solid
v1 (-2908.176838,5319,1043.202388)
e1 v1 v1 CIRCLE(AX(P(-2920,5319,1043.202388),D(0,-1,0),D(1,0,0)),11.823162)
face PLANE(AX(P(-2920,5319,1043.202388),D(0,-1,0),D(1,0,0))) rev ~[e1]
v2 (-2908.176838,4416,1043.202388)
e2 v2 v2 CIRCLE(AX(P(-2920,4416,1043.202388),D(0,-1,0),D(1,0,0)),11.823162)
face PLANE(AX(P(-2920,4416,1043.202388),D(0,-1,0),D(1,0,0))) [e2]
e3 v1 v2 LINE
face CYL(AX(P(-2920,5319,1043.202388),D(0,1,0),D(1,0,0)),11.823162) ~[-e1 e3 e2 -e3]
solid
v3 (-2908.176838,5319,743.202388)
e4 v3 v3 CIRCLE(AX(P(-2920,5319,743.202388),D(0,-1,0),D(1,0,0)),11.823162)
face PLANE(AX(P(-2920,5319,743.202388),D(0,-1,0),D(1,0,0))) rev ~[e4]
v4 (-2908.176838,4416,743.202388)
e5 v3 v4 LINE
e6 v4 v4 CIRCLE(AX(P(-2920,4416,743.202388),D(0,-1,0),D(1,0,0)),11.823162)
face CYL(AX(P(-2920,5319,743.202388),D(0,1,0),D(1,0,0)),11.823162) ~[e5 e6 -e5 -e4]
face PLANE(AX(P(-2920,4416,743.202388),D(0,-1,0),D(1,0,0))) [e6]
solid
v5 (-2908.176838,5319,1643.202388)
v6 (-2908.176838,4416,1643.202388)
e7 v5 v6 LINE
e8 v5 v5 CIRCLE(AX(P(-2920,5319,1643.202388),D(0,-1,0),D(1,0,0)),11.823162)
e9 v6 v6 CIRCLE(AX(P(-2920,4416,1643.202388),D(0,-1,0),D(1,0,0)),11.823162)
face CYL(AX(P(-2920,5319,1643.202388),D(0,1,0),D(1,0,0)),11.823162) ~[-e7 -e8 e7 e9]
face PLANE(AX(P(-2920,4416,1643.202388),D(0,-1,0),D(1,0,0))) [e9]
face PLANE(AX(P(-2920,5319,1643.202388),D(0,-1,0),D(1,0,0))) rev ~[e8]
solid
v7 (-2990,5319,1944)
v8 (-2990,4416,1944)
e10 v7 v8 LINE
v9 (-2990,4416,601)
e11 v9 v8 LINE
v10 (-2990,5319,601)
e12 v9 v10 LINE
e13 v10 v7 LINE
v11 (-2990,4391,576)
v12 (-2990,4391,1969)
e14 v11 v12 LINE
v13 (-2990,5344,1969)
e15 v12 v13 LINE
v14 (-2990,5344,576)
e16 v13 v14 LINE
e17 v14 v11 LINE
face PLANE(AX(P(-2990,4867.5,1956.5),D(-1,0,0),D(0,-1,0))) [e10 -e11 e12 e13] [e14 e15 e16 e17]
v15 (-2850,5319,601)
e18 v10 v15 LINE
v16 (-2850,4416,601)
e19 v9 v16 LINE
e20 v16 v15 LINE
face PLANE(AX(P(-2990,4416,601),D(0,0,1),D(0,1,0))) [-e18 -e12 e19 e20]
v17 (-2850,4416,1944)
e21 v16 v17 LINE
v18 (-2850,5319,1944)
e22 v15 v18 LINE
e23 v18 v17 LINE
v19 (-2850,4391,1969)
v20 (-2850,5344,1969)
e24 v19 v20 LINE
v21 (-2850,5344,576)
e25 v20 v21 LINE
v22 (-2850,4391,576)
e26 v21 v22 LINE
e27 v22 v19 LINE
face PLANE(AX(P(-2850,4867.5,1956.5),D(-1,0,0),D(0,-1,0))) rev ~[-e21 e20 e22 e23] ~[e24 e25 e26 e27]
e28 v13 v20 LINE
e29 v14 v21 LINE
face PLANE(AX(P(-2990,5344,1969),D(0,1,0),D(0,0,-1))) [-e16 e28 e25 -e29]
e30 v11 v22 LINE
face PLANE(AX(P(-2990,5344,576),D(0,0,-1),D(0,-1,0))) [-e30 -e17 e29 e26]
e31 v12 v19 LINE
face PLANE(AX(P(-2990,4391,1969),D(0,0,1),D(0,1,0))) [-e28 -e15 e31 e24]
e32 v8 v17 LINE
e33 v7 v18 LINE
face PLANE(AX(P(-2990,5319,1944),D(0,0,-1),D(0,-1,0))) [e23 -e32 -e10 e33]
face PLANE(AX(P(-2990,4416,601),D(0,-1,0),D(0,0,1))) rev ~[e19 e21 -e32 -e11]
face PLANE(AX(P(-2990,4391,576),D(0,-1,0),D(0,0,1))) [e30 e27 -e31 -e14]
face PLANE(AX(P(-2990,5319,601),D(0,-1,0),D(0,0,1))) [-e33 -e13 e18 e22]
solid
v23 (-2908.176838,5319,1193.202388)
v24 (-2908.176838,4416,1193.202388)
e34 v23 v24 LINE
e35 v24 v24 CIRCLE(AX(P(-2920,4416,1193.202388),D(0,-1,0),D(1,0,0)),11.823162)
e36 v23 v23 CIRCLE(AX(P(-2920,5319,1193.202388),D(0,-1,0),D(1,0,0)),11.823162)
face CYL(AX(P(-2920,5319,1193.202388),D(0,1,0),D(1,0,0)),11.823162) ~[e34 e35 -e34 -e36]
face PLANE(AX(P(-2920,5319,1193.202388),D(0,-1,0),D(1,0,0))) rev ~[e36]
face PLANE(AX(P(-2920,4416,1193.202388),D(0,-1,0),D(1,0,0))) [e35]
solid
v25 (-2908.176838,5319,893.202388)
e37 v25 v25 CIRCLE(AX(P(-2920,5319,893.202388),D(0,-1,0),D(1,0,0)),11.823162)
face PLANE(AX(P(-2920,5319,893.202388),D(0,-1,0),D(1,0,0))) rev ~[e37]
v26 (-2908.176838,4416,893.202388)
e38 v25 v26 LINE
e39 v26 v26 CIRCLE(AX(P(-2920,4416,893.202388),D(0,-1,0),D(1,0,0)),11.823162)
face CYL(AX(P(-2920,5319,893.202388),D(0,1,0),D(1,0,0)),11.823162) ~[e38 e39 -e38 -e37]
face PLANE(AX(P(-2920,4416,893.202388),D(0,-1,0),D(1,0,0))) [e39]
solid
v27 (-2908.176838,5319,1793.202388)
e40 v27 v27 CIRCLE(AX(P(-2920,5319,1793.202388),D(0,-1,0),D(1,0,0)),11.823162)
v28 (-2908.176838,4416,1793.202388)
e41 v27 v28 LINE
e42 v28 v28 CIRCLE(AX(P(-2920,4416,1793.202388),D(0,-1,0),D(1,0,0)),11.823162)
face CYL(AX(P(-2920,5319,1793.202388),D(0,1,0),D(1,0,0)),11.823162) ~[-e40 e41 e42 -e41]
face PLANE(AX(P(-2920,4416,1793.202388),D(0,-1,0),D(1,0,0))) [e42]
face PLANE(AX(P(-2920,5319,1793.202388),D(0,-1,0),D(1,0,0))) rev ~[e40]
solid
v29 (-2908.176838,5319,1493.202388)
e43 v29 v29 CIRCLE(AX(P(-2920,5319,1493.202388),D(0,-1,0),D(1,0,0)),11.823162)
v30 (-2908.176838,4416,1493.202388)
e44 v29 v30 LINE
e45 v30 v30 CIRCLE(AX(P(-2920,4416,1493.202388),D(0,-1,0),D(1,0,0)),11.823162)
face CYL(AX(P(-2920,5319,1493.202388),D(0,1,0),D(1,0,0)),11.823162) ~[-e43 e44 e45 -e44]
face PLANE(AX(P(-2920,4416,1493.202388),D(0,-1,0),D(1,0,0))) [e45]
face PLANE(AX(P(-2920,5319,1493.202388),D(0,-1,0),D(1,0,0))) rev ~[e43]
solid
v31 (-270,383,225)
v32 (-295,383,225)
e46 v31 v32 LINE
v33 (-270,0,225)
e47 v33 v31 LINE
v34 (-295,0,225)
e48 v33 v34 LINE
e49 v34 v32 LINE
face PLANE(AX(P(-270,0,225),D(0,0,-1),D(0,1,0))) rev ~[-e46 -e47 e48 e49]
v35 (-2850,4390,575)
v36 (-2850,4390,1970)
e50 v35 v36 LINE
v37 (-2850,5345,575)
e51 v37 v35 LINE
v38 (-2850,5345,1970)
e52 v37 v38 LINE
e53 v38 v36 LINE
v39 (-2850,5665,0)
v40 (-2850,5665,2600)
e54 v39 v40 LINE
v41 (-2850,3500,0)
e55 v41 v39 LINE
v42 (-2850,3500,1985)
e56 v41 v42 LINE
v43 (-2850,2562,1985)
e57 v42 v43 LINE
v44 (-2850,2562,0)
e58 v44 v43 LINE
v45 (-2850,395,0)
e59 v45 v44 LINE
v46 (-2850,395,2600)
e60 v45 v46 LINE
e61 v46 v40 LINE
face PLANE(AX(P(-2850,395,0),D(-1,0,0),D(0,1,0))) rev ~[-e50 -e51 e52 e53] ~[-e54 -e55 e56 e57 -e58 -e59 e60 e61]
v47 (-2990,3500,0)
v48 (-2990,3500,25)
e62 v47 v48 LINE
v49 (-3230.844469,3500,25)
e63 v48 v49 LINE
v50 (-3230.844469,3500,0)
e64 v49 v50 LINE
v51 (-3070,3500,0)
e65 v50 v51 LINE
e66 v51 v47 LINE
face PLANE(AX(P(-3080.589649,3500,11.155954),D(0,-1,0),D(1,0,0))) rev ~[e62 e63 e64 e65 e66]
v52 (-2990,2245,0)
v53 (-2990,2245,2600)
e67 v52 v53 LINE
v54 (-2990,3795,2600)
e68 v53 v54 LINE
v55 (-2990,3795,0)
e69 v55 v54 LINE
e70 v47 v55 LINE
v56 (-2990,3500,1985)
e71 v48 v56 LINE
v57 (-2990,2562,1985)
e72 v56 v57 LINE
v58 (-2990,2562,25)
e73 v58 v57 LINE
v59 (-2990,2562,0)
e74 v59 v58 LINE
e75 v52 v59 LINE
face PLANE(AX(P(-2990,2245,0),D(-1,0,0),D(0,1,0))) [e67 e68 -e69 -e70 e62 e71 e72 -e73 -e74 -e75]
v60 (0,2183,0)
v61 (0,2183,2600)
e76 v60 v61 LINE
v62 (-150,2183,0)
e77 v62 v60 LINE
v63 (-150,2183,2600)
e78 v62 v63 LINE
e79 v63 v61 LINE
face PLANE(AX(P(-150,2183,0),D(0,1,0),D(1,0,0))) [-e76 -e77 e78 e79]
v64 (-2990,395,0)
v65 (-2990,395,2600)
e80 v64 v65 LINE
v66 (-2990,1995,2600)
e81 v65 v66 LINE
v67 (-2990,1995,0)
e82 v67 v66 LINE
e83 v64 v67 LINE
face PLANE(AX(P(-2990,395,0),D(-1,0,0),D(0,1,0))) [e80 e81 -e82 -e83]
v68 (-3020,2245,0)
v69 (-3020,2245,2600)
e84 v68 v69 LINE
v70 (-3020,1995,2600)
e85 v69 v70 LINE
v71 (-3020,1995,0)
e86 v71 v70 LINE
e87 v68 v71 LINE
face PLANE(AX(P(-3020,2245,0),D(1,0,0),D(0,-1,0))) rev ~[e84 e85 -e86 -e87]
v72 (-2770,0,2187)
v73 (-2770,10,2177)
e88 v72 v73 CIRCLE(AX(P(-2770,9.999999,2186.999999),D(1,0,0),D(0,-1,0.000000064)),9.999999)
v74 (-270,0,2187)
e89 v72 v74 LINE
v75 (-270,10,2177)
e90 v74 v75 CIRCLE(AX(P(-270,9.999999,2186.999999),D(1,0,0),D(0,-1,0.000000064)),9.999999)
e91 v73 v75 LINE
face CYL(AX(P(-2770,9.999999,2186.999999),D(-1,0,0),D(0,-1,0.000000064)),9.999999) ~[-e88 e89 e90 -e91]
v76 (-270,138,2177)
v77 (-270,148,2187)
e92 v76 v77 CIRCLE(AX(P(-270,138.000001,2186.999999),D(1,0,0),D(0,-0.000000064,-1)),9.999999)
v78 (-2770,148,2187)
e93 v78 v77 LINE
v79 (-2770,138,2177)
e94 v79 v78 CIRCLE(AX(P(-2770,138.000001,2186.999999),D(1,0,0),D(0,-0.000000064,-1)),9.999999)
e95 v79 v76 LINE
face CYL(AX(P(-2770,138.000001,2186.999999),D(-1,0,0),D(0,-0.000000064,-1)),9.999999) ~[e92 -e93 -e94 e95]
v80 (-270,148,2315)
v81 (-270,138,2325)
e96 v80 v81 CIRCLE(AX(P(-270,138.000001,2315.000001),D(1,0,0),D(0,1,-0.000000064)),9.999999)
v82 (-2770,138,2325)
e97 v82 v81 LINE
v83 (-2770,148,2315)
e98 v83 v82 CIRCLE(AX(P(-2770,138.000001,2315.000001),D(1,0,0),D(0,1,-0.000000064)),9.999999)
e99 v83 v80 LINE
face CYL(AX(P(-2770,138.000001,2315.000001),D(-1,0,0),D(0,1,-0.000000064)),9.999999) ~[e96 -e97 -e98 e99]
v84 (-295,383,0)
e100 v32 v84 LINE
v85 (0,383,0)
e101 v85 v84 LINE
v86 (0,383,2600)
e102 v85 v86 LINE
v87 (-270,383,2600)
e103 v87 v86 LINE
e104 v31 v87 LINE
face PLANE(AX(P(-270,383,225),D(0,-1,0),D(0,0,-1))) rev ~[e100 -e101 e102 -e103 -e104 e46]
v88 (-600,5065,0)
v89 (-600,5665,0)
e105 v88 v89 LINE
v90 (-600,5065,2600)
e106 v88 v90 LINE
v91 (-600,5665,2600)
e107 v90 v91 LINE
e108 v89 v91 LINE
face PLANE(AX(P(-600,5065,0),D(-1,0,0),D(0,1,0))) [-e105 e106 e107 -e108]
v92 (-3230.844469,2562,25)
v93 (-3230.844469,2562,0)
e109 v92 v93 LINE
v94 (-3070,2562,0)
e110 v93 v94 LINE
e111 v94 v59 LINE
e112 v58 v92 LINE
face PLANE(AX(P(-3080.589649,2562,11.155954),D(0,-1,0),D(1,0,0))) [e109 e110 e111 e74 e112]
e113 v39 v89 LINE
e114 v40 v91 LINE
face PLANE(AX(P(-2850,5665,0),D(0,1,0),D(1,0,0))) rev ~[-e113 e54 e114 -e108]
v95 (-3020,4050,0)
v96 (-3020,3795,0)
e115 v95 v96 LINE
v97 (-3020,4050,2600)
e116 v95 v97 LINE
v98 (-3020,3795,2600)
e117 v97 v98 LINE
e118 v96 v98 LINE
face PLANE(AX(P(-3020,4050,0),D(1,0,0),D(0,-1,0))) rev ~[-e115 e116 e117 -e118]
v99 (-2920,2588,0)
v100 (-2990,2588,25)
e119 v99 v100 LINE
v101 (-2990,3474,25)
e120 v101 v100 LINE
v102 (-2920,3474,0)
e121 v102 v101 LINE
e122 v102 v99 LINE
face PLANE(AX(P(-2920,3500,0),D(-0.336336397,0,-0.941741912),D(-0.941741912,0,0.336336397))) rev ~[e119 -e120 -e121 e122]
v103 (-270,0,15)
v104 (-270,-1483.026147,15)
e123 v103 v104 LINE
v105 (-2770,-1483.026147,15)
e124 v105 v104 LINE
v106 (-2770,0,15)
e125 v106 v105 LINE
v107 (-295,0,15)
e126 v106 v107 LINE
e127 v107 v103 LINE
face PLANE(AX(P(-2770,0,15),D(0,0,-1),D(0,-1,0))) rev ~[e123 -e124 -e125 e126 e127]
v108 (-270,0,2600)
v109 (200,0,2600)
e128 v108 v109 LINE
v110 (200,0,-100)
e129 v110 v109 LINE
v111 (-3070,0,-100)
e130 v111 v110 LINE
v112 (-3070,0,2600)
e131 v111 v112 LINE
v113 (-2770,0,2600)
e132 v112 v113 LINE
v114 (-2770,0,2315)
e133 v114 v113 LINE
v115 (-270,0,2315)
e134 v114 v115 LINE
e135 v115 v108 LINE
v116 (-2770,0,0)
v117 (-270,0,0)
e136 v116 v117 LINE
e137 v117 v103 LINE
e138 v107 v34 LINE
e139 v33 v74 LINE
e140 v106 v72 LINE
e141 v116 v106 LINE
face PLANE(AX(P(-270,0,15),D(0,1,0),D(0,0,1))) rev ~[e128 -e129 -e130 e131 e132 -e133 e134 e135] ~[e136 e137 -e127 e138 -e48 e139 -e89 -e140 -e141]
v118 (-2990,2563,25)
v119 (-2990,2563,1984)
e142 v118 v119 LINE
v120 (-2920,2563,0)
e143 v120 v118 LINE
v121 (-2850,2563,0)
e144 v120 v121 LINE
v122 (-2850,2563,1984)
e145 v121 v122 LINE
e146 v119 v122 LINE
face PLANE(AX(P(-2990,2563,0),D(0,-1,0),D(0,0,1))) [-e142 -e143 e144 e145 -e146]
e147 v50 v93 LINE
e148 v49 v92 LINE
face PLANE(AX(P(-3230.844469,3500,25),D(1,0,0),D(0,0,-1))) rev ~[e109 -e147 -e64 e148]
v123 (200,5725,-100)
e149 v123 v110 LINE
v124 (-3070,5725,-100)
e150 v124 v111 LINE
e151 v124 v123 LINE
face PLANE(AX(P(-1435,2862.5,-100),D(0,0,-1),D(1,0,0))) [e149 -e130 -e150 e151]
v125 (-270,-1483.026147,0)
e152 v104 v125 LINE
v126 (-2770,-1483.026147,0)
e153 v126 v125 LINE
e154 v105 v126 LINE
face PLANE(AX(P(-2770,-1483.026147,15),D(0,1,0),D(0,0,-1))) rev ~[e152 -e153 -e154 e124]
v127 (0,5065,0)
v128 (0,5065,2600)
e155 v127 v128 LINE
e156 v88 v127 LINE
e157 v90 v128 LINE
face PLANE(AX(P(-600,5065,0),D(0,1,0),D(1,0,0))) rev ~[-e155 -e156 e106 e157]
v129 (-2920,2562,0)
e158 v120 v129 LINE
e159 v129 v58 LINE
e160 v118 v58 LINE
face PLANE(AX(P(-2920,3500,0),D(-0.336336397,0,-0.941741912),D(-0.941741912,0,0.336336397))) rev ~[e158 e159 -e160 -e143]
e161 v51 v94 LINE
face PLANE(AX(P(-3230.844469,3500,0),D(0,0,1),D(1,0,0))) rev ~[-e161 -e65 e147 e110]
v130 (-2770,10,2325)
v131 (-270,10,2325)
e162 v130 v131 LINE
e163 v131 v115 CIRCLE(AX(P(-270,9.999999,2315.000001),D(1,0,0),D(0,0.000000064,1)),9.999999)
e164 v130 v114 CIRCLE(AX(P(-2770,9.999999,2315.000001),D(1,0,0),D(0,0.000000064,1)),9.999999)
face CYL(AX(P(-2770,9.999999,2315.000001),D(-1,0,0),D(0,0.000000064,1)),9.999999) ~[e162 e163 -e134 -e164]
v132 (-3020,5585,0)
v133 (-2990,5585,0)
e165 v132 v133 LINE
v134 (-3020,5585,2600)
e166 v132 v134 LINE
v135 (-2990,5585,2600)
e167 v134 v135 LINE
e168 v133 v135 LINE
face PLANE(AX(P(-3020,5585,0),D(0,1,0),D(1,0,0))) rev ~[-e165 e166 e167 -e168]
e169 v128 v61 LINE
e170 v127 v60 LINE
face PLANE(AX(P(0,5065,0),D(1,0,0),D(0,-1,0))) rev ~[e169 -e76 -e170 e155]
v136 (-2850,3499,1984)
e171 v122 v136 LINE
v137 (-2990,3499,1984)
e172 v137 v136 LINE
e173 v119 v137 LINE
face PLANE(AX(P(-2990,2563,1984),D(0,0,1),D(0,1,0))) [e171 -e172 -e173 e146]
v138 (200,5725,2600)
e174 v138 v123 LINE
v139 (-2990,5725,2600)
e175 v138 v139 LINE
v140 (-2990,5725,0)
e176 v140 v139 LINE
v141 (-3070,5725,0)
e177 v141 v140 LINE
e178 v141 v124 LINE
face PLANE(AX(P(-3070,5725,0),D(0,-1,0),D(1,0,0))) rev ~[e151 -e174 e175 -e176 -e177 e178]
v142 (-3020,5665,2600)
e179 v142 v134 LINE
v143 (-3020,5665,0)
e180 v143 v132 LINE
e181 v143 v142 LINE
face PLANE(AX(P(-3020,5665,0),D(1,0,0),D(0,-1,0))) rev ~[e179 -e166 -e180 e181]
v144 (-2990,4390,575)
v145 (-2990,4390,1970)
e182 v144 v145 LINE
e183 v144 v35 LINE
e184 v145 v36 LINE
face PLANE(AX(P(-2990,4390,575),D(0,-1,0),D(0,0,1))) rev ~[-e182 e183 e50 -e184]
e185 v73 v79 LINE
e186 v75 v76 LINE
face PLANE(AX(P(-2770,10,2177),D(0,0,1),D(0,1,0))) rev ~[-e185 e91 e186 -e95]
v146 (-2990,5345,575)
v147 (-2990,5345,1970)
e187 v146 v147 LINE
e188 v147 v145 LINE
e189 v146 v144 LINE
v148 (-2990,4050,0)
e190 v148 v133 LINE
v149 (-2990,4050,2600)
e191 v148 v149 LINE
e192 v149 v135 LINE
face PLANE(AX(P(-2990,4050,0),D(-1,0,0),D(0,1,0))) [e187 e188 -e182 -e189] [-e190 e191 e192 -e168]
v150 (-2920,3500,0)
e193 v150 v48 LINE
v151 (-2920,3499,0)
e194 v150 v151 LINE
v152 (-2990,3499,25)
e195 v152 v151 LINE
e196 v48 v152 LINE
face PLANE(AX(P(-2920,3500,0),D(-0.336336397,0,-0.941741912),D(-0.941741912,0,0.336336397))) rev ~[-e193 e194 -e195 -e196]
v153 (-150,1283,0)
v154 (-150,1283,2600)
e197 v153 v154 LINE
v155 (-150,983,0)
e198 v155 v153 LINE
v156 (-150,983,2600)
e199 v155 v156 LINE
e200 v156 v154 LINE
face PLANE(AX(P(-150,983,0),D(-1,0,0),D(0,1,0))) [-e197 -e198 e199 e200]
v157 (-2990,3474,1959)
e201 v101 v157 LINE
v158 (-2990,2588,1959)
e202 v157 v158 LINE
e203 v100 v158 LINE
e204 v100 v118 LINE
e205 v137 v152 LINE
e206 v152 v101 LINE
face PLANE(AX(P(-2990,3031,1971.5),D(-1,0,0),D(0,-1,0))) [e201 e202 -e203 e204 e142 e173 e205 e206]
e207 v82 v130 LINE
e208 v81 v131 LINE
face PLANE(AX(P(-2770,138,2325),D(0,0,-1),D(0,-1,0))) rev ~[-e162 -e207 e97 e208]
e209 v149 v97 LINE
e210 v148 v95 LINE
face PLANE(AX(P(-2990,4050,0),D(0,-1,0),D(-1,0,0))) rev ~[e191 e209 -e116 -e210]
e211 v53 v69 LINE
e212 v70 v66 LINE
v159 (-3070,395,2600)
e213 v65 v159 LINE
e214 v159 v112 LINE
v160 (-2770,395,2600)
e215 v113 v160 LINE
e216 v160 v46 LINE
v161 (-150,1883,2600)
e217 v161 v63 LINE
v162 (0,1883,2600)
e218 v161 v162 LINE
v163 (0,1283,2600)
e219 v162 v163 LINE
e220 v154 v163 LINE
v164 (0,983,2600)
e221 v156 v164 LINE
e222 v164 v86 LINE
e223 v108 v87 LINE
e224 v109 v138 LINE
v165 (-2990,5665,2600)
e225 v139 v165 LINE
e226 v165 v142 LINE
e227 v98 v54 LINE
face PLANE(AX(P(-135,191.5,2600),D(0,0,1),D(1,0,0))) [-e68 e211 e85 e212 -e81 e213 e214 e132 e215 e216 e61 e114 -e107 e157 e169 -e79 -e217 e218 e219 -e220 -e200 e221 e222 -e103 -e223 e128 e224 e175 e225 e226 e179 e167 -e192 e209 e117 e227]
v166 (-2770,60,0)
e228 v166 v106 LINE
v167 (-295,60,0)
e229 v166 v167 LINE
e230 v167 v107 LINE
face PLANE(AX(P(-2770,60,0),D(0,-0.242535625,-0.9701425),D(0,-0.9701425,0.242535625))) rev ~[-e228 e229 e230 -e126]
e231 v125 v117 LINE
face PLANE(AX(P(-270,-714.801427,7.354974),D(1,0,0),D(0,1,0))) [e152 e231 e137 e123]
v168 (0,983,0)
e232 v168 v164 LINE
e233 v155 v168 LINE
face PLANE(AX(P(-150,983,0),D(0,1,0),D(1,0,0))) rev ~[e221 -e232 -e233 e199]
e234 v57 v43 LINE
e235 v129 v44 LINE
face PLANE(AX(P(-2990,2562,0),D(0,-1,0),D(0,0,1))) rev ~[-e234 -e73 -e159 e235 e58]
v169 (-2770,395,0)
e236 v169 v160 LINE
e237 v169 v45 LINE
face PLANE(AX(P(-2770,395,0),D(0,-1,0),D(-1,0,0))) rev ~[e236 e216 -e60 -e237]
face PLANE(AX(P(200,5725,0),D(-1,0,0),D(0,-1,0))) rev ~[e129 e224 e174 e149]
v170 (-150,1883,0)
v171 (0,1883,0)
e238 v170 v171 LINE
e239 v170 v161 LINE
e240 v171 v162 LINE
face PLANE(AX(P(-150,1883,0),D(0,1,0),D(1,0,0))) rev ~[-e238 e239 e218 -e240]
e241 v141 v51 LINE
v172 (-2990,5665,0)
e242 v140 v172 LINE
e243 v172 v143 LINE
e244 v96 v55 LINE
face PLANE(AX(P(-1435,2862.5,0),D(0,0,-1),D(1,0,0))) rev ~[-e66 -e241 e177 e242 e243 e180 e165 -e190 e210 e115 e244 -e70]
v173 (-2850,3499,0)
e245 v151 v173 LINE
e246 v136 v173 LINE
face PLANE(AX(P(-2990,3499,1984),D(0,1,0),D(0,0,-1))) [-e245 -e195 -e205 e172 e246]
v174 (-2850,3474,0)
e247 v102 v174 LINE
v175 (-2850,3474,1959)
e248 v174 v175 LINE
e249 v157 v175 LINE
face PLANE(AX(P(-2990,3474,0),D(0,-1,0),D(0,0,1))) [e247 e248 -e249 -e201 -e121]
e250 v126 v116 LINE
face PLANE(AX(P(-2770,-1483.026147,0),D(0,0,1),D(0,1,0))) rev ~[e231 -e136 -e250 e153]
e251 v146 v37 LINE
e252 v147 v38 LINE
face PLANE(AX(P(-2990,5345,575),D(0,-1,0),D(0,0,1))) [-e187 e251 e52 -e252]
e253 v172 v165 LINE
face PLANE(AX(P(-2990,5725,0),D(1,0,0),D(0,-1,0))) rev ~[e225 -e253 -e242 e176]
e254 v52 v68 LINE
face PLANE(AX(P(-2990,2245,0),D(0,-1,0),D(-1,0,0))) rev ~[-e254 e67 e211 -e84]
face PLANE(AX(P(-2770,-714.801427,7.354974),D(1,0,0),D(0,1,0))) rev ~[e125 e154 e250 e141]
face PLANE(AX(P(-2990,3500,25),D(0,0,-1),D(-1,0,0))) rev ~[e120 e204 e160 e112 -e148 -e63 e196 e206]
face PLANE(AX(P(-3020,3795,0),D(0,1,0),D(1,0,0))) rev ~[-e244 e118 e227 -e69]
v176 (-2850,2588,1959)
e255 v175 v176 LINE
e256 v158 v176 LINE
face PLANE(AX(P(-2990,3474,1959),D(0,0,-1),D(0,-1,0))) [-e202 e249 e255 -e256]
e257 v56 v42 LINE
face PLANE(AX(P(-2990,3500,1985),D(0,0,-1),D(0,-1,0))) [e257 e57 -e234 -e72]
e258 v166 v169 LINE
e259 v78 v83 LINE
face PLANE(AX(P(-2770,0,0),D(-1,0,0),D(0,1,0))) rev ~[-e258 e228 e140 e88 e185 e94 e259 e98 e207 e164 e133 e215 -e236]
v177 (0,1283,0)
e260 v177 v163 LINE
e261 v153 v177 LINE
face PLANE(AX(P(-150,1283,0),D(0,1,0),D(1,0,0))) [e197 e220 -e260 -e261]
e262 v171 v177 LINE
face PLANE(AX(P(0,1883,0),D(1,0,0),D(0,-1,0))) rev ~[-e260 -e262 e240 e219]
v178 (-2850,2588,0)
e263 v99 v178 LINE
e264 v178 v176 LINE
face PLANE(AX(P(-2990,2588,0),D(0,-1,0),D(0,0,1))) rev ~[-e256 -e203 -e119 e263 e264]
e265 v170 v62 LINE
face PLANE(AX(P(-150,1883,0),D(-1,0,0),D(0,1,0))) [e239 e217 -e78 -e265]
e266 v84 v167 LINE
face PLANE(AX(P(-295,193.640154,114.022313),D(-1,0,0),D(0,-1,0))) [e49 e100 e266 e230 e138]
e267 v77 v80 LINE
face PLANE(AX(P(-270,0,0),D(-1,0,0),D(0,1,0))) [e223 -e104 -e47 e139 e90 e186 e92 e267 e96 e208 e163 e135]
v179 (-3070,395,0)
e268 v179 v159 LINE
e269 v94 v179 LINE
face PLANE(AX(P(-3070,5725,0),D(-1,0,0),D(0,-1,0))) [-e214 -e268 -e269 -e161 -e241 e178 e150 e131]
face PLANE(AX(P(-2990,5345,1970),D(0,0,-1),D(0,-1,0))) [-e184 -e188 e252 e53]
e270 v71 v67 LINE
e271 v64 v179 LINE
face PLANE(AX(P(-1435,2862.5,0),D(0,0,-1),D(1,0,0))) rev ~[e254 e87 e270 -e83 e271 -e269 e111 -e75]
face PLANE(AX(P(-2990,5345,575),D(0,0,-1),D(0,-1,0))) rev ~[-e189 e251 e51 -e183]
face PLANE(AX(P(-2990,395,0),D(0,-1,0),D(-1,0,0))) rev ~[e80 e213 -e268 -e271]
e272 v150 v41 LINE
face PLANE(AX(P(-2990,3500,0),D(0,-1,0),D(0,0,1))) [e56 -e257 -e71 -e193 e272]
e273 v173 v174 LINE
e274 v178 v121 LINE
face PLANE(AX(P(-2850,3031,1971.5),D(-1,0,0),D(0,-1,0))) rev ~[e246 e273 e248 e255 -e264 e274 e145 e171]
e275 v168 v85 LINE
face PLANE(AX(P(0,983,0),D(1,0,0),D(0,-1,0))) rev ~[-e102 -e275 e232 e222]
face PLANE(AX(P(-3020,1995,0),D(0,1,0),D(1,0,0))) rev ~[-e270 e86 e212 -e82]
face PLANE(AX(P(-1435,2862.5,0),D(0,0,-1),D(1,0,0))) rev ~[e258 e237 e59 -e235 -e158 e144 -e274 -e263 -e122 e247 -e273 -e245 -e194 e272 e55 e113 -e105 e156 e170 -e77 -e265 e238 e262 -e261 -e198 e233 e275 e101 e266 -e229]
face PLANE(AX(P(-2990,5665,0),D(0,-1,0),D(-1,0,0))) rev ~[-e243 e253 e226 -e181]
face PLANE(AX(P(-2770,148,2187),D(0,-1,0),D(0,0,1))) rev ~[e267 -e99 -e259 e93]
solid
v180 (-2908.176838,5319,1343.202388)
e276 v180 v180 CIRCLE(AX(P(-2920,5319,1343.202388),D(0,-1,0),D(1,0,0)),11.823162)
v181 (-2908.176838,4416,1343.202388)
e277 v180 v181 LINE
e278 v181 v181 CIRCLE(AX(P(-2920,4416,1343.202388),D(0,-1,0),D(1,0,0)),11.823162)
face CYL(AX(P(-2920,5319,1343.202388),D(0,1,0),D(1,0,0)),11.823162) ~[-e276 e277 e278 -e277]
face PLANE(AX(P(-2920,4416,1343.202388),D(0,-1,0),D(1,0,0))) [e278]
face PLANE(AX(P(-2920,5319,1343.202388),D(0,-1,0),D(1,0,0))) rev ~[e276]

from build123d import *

# Parameters (mm, degrees)
F0_W      = 270
F0_H      = 383
F0_W_2    = 150
F0_H_2    = 300
F0_W_3    = 600
F0_H_3    = 600
F0_W_4    = 140
F0_H_4    = 1535
F0_H_5    = 1550
F0_H_6    = 1600
F1_DEPTH  = 2600
F2_W      = 3270
F2_H      = 5725
F3_DEPTH  = 100
F5_DEPTH  = 2500
F6_W      = 938
F6_H      = 1985
F7_DEPTH  = 140
F8_W      = 955
F8_H      = 1395
F9_DEPTH  = 140
F11_DEPTH = 938
F13_DEPTH = 25
F15_DEPTH = 2500
F16_W     = 25
F16_H     = 1959
F17_DEPTH = 140
F18_W     = 25
F18_H     = 1343
F19_DEPTH = 140
F20_R     = 11.823162
F21_DEPTH = 903


with BuildPart() as f1:
    # F0 (on Top) → F1 (new body)
    with BuildSketch(Plane.XY):
        with Locations((-135, 191.5)):
            Rectangle(F0_W, F0_H)
        Polygon((0, 383), (0, 0), (200, 0), (200, 5665), (0, 5665), (0, 5065), (0, 2183), (0, 1883), (0, 1283), (0, 983), align=None)
        with Locations((-75, 1133)):
            Rectangle(F0_W_2, F0_H_2)
        Polygon((0, 5665), (200, 5665), (200, 5725), (-2990, 5725), (-2990, 5665), (-2850, 5665), (-600, 5665), align=None)
        with Locations((-300, 5365)):
            Rectangle(F0_W_3, F0_H_3)
        with Locations((-75, 2033)):
            Rectangle(F0_W_2, F0_H_2)
        Polygon((-2850, 5585), (-2850, 5665), (-2990, 5665), (-3020, 5665), (-3020, 5585), (-2990, 5585), align=None)
        with Locations((-2920, 4817.5)):
            Rectangle(F0_W_4, F0_H_4)
        Polygon((-2850, 3795), (-2850, 4050), (-2990, 4050), (-3020, 4050), (-3020, 3795), (-2990, 3795), align=None)
        with Locations((-2920, 3020)):
            Rectangle(F0_W_4, F0_H_5)
        Polygon((-2850, 1995), (-2850, 2245), (-2990, 2245), (-3020, 2245), (-3020, 1995), (-2990, 1995), align=None)
        with Locations((-2920, 1195)):
            Rectangle(F0_W_4, F0_H_6)
        Polygon((-2770, 395), (-2850, 395), (-2990, 395), (-3070, 395), (-3070, 0), (-2770, 0), align=None)
    extrude(amount=F1_DEPTH)

    # F2 (on face) → F3 (join)
    with BuildSketch(Plane(origin=(0, 0, 0), x_dir=(1, 0, 0), z_dir=(0, 0, -1))):
        with Locations((-1435, -2862.5)):
            Rectangle(F2_W, F2_H)
    extrude(amount=F3_DEPTH)

    # F4 (on face) → F5 (join, through all)
    with BuildSketch(Plane.YZ.offset(-2770)):
        Polygon((-1483.026147, 0), (0, 0), (60, 0), (0, 15), (-1483.026147, 15), align=None)
    extrude(amount=F5_DEPTH)

    # F6 (on face) → F7 (cut, through all)
    with BuildSketch(Plane(origin=(-2990, 0, 0), x_dir=(0, -1, 0), z_dir=(-1, 0, 0))):
        with Locations((-3031, 992.5)):
            Rectangle(F6_W, F6_H)
    extrude(amount=-F7_DEPTH, mode=Mode.SUBTRACT)

    # F8 (on face) → F9 (cut, through all)
    with BuildSketch(Plane(origin=(-2990, 0, 0), x_dir=(0, -1, 0), z_dir=(-1, 0, 0))):
        with Locations((-4867.5, 1272.5)):
            Rectangle(F8_W, F8_H)
    extrude(amount=-F9_DEPTH, mode=Mode.SUBTRACT)

    # F10 (on face) → F11 (join, through all)
    with BuildSketch(Plane.XZ.offset(-3500)):
        Polygon((-3230.844469, 0), (-2920, 0), (-2990, 25), (-3230.844469, 25), align=None)
    extrude(amount=F11_DEPTH)

    # F12 (on face) → F13 (join)
    with BuildSketch(Plane(origin=(-270, 0, 0), x_dir=(0, -1, 0), z_dir=(-1, 0, 0))):
        Polygon((-383, 225), (-383, 0), (-60, 0), (0, 15), (0, 225), align=None)
    extrude(amount=F13_DEPTH)

    # F14 (on face) → F15 (join, through all)
    with BuildSketch(Plane.YZ.offset(-2770)):
        with BuildLine():
            Line((138, 2325), (10, 2325))
            ThreePointArc((10, 2325), (2.928932, 2322.071068), (0, 2315))
            Line((0, 2315), (0, 2187))
            ThreePointArc((0, 2187), (2.928932, 2179.928932), (10, 2177))
            Line((10, 2177), (138, 2177))
            ThreePointArc((138, 2177), (145.071068, 2179.928932), (148, 2187))
            Line((148, 2187), (148, 2315))
            ThreePointArc((148, 2315), (145.071068, 2322.071068), (138, 2325))
        make_face()
    extrude(amount=F15_DEPTH)

    # F16 (on face) → F17 (join, through all)
    with BuildSketch(Plane(origin=(-2990, 0, 0), x_dir=(0, -1, 0), z_dir=(-1, 0, 0))):
        Polygon((-2563, 1984), (-3499, 1984), (-3499, 1959), (-3474, 1959), (-2588, 1959), (-2563, 1959), align=None)
        with Locations((-3486.5, 979.5)):
            Rectangle(F16_W, F16_H)
        with Locations((-2575.5, 979.5)):
            Rectangle(F16_W, F16_H)
    extrude(amount=-F17_DEPTH)


with BuildPart() as f19:
    # F18 (on face) → F19 (new body, through all)
    with BuildSketch(Plane(origin=(-2990, 0, 0), x_dir=(0, -1, 0), z_dir=(-1, 0, 0))):
        Polygon((-4391, 1969), (-5344, 1969), (-5344, 1944), (-5319, 1944), (-4416, 1944), (-4391, 1944), align=None)
        Polygon((-5319, 1944), (-5344, 1944), (-5344, 576), (-5319, 576), (-5319, 601), align=None)
        with Locations((-4403.5, 1272.5)):
            Rectangle(F18_W, F18_H)
        Polygon((-4391, 576), (-4391, 601), (-4416, 601), (-5319, 601), (-5319, 576), align=None)
    extrude(amount=-F19_DEPTH)


with BuildPart() as f21:
    # F20 (on face) → F21 (new body, through all)
    with BuildSketch(Plane.XZ.offset(-5319)):
        with Locations((-2920, 743.202388)):
            Circle(F20_R)
        with Locations((-2920, 893.202388)):
            Circle(F20_R)
        with Locations((-2920, 1043.202388)):
            Circle(F20_R)
        with Locations((-2920, 1193.202388)):
            Circle(F20_R)
        with Locations((-2920, 1343.202388)):
            Circle(F20_R)
        with Locations((-2920, 1493.202388)):
            Circle(F20_R)
        with Locations((-2920, 1643.202388)):
            Circle(F20_R)
        with Locations((-2920, 1793.202388)):
            Circle(F20_R)
    extrude(amount=F21_DEPTH)


solid = Compound([f1.part, f19.part, f21.part])
